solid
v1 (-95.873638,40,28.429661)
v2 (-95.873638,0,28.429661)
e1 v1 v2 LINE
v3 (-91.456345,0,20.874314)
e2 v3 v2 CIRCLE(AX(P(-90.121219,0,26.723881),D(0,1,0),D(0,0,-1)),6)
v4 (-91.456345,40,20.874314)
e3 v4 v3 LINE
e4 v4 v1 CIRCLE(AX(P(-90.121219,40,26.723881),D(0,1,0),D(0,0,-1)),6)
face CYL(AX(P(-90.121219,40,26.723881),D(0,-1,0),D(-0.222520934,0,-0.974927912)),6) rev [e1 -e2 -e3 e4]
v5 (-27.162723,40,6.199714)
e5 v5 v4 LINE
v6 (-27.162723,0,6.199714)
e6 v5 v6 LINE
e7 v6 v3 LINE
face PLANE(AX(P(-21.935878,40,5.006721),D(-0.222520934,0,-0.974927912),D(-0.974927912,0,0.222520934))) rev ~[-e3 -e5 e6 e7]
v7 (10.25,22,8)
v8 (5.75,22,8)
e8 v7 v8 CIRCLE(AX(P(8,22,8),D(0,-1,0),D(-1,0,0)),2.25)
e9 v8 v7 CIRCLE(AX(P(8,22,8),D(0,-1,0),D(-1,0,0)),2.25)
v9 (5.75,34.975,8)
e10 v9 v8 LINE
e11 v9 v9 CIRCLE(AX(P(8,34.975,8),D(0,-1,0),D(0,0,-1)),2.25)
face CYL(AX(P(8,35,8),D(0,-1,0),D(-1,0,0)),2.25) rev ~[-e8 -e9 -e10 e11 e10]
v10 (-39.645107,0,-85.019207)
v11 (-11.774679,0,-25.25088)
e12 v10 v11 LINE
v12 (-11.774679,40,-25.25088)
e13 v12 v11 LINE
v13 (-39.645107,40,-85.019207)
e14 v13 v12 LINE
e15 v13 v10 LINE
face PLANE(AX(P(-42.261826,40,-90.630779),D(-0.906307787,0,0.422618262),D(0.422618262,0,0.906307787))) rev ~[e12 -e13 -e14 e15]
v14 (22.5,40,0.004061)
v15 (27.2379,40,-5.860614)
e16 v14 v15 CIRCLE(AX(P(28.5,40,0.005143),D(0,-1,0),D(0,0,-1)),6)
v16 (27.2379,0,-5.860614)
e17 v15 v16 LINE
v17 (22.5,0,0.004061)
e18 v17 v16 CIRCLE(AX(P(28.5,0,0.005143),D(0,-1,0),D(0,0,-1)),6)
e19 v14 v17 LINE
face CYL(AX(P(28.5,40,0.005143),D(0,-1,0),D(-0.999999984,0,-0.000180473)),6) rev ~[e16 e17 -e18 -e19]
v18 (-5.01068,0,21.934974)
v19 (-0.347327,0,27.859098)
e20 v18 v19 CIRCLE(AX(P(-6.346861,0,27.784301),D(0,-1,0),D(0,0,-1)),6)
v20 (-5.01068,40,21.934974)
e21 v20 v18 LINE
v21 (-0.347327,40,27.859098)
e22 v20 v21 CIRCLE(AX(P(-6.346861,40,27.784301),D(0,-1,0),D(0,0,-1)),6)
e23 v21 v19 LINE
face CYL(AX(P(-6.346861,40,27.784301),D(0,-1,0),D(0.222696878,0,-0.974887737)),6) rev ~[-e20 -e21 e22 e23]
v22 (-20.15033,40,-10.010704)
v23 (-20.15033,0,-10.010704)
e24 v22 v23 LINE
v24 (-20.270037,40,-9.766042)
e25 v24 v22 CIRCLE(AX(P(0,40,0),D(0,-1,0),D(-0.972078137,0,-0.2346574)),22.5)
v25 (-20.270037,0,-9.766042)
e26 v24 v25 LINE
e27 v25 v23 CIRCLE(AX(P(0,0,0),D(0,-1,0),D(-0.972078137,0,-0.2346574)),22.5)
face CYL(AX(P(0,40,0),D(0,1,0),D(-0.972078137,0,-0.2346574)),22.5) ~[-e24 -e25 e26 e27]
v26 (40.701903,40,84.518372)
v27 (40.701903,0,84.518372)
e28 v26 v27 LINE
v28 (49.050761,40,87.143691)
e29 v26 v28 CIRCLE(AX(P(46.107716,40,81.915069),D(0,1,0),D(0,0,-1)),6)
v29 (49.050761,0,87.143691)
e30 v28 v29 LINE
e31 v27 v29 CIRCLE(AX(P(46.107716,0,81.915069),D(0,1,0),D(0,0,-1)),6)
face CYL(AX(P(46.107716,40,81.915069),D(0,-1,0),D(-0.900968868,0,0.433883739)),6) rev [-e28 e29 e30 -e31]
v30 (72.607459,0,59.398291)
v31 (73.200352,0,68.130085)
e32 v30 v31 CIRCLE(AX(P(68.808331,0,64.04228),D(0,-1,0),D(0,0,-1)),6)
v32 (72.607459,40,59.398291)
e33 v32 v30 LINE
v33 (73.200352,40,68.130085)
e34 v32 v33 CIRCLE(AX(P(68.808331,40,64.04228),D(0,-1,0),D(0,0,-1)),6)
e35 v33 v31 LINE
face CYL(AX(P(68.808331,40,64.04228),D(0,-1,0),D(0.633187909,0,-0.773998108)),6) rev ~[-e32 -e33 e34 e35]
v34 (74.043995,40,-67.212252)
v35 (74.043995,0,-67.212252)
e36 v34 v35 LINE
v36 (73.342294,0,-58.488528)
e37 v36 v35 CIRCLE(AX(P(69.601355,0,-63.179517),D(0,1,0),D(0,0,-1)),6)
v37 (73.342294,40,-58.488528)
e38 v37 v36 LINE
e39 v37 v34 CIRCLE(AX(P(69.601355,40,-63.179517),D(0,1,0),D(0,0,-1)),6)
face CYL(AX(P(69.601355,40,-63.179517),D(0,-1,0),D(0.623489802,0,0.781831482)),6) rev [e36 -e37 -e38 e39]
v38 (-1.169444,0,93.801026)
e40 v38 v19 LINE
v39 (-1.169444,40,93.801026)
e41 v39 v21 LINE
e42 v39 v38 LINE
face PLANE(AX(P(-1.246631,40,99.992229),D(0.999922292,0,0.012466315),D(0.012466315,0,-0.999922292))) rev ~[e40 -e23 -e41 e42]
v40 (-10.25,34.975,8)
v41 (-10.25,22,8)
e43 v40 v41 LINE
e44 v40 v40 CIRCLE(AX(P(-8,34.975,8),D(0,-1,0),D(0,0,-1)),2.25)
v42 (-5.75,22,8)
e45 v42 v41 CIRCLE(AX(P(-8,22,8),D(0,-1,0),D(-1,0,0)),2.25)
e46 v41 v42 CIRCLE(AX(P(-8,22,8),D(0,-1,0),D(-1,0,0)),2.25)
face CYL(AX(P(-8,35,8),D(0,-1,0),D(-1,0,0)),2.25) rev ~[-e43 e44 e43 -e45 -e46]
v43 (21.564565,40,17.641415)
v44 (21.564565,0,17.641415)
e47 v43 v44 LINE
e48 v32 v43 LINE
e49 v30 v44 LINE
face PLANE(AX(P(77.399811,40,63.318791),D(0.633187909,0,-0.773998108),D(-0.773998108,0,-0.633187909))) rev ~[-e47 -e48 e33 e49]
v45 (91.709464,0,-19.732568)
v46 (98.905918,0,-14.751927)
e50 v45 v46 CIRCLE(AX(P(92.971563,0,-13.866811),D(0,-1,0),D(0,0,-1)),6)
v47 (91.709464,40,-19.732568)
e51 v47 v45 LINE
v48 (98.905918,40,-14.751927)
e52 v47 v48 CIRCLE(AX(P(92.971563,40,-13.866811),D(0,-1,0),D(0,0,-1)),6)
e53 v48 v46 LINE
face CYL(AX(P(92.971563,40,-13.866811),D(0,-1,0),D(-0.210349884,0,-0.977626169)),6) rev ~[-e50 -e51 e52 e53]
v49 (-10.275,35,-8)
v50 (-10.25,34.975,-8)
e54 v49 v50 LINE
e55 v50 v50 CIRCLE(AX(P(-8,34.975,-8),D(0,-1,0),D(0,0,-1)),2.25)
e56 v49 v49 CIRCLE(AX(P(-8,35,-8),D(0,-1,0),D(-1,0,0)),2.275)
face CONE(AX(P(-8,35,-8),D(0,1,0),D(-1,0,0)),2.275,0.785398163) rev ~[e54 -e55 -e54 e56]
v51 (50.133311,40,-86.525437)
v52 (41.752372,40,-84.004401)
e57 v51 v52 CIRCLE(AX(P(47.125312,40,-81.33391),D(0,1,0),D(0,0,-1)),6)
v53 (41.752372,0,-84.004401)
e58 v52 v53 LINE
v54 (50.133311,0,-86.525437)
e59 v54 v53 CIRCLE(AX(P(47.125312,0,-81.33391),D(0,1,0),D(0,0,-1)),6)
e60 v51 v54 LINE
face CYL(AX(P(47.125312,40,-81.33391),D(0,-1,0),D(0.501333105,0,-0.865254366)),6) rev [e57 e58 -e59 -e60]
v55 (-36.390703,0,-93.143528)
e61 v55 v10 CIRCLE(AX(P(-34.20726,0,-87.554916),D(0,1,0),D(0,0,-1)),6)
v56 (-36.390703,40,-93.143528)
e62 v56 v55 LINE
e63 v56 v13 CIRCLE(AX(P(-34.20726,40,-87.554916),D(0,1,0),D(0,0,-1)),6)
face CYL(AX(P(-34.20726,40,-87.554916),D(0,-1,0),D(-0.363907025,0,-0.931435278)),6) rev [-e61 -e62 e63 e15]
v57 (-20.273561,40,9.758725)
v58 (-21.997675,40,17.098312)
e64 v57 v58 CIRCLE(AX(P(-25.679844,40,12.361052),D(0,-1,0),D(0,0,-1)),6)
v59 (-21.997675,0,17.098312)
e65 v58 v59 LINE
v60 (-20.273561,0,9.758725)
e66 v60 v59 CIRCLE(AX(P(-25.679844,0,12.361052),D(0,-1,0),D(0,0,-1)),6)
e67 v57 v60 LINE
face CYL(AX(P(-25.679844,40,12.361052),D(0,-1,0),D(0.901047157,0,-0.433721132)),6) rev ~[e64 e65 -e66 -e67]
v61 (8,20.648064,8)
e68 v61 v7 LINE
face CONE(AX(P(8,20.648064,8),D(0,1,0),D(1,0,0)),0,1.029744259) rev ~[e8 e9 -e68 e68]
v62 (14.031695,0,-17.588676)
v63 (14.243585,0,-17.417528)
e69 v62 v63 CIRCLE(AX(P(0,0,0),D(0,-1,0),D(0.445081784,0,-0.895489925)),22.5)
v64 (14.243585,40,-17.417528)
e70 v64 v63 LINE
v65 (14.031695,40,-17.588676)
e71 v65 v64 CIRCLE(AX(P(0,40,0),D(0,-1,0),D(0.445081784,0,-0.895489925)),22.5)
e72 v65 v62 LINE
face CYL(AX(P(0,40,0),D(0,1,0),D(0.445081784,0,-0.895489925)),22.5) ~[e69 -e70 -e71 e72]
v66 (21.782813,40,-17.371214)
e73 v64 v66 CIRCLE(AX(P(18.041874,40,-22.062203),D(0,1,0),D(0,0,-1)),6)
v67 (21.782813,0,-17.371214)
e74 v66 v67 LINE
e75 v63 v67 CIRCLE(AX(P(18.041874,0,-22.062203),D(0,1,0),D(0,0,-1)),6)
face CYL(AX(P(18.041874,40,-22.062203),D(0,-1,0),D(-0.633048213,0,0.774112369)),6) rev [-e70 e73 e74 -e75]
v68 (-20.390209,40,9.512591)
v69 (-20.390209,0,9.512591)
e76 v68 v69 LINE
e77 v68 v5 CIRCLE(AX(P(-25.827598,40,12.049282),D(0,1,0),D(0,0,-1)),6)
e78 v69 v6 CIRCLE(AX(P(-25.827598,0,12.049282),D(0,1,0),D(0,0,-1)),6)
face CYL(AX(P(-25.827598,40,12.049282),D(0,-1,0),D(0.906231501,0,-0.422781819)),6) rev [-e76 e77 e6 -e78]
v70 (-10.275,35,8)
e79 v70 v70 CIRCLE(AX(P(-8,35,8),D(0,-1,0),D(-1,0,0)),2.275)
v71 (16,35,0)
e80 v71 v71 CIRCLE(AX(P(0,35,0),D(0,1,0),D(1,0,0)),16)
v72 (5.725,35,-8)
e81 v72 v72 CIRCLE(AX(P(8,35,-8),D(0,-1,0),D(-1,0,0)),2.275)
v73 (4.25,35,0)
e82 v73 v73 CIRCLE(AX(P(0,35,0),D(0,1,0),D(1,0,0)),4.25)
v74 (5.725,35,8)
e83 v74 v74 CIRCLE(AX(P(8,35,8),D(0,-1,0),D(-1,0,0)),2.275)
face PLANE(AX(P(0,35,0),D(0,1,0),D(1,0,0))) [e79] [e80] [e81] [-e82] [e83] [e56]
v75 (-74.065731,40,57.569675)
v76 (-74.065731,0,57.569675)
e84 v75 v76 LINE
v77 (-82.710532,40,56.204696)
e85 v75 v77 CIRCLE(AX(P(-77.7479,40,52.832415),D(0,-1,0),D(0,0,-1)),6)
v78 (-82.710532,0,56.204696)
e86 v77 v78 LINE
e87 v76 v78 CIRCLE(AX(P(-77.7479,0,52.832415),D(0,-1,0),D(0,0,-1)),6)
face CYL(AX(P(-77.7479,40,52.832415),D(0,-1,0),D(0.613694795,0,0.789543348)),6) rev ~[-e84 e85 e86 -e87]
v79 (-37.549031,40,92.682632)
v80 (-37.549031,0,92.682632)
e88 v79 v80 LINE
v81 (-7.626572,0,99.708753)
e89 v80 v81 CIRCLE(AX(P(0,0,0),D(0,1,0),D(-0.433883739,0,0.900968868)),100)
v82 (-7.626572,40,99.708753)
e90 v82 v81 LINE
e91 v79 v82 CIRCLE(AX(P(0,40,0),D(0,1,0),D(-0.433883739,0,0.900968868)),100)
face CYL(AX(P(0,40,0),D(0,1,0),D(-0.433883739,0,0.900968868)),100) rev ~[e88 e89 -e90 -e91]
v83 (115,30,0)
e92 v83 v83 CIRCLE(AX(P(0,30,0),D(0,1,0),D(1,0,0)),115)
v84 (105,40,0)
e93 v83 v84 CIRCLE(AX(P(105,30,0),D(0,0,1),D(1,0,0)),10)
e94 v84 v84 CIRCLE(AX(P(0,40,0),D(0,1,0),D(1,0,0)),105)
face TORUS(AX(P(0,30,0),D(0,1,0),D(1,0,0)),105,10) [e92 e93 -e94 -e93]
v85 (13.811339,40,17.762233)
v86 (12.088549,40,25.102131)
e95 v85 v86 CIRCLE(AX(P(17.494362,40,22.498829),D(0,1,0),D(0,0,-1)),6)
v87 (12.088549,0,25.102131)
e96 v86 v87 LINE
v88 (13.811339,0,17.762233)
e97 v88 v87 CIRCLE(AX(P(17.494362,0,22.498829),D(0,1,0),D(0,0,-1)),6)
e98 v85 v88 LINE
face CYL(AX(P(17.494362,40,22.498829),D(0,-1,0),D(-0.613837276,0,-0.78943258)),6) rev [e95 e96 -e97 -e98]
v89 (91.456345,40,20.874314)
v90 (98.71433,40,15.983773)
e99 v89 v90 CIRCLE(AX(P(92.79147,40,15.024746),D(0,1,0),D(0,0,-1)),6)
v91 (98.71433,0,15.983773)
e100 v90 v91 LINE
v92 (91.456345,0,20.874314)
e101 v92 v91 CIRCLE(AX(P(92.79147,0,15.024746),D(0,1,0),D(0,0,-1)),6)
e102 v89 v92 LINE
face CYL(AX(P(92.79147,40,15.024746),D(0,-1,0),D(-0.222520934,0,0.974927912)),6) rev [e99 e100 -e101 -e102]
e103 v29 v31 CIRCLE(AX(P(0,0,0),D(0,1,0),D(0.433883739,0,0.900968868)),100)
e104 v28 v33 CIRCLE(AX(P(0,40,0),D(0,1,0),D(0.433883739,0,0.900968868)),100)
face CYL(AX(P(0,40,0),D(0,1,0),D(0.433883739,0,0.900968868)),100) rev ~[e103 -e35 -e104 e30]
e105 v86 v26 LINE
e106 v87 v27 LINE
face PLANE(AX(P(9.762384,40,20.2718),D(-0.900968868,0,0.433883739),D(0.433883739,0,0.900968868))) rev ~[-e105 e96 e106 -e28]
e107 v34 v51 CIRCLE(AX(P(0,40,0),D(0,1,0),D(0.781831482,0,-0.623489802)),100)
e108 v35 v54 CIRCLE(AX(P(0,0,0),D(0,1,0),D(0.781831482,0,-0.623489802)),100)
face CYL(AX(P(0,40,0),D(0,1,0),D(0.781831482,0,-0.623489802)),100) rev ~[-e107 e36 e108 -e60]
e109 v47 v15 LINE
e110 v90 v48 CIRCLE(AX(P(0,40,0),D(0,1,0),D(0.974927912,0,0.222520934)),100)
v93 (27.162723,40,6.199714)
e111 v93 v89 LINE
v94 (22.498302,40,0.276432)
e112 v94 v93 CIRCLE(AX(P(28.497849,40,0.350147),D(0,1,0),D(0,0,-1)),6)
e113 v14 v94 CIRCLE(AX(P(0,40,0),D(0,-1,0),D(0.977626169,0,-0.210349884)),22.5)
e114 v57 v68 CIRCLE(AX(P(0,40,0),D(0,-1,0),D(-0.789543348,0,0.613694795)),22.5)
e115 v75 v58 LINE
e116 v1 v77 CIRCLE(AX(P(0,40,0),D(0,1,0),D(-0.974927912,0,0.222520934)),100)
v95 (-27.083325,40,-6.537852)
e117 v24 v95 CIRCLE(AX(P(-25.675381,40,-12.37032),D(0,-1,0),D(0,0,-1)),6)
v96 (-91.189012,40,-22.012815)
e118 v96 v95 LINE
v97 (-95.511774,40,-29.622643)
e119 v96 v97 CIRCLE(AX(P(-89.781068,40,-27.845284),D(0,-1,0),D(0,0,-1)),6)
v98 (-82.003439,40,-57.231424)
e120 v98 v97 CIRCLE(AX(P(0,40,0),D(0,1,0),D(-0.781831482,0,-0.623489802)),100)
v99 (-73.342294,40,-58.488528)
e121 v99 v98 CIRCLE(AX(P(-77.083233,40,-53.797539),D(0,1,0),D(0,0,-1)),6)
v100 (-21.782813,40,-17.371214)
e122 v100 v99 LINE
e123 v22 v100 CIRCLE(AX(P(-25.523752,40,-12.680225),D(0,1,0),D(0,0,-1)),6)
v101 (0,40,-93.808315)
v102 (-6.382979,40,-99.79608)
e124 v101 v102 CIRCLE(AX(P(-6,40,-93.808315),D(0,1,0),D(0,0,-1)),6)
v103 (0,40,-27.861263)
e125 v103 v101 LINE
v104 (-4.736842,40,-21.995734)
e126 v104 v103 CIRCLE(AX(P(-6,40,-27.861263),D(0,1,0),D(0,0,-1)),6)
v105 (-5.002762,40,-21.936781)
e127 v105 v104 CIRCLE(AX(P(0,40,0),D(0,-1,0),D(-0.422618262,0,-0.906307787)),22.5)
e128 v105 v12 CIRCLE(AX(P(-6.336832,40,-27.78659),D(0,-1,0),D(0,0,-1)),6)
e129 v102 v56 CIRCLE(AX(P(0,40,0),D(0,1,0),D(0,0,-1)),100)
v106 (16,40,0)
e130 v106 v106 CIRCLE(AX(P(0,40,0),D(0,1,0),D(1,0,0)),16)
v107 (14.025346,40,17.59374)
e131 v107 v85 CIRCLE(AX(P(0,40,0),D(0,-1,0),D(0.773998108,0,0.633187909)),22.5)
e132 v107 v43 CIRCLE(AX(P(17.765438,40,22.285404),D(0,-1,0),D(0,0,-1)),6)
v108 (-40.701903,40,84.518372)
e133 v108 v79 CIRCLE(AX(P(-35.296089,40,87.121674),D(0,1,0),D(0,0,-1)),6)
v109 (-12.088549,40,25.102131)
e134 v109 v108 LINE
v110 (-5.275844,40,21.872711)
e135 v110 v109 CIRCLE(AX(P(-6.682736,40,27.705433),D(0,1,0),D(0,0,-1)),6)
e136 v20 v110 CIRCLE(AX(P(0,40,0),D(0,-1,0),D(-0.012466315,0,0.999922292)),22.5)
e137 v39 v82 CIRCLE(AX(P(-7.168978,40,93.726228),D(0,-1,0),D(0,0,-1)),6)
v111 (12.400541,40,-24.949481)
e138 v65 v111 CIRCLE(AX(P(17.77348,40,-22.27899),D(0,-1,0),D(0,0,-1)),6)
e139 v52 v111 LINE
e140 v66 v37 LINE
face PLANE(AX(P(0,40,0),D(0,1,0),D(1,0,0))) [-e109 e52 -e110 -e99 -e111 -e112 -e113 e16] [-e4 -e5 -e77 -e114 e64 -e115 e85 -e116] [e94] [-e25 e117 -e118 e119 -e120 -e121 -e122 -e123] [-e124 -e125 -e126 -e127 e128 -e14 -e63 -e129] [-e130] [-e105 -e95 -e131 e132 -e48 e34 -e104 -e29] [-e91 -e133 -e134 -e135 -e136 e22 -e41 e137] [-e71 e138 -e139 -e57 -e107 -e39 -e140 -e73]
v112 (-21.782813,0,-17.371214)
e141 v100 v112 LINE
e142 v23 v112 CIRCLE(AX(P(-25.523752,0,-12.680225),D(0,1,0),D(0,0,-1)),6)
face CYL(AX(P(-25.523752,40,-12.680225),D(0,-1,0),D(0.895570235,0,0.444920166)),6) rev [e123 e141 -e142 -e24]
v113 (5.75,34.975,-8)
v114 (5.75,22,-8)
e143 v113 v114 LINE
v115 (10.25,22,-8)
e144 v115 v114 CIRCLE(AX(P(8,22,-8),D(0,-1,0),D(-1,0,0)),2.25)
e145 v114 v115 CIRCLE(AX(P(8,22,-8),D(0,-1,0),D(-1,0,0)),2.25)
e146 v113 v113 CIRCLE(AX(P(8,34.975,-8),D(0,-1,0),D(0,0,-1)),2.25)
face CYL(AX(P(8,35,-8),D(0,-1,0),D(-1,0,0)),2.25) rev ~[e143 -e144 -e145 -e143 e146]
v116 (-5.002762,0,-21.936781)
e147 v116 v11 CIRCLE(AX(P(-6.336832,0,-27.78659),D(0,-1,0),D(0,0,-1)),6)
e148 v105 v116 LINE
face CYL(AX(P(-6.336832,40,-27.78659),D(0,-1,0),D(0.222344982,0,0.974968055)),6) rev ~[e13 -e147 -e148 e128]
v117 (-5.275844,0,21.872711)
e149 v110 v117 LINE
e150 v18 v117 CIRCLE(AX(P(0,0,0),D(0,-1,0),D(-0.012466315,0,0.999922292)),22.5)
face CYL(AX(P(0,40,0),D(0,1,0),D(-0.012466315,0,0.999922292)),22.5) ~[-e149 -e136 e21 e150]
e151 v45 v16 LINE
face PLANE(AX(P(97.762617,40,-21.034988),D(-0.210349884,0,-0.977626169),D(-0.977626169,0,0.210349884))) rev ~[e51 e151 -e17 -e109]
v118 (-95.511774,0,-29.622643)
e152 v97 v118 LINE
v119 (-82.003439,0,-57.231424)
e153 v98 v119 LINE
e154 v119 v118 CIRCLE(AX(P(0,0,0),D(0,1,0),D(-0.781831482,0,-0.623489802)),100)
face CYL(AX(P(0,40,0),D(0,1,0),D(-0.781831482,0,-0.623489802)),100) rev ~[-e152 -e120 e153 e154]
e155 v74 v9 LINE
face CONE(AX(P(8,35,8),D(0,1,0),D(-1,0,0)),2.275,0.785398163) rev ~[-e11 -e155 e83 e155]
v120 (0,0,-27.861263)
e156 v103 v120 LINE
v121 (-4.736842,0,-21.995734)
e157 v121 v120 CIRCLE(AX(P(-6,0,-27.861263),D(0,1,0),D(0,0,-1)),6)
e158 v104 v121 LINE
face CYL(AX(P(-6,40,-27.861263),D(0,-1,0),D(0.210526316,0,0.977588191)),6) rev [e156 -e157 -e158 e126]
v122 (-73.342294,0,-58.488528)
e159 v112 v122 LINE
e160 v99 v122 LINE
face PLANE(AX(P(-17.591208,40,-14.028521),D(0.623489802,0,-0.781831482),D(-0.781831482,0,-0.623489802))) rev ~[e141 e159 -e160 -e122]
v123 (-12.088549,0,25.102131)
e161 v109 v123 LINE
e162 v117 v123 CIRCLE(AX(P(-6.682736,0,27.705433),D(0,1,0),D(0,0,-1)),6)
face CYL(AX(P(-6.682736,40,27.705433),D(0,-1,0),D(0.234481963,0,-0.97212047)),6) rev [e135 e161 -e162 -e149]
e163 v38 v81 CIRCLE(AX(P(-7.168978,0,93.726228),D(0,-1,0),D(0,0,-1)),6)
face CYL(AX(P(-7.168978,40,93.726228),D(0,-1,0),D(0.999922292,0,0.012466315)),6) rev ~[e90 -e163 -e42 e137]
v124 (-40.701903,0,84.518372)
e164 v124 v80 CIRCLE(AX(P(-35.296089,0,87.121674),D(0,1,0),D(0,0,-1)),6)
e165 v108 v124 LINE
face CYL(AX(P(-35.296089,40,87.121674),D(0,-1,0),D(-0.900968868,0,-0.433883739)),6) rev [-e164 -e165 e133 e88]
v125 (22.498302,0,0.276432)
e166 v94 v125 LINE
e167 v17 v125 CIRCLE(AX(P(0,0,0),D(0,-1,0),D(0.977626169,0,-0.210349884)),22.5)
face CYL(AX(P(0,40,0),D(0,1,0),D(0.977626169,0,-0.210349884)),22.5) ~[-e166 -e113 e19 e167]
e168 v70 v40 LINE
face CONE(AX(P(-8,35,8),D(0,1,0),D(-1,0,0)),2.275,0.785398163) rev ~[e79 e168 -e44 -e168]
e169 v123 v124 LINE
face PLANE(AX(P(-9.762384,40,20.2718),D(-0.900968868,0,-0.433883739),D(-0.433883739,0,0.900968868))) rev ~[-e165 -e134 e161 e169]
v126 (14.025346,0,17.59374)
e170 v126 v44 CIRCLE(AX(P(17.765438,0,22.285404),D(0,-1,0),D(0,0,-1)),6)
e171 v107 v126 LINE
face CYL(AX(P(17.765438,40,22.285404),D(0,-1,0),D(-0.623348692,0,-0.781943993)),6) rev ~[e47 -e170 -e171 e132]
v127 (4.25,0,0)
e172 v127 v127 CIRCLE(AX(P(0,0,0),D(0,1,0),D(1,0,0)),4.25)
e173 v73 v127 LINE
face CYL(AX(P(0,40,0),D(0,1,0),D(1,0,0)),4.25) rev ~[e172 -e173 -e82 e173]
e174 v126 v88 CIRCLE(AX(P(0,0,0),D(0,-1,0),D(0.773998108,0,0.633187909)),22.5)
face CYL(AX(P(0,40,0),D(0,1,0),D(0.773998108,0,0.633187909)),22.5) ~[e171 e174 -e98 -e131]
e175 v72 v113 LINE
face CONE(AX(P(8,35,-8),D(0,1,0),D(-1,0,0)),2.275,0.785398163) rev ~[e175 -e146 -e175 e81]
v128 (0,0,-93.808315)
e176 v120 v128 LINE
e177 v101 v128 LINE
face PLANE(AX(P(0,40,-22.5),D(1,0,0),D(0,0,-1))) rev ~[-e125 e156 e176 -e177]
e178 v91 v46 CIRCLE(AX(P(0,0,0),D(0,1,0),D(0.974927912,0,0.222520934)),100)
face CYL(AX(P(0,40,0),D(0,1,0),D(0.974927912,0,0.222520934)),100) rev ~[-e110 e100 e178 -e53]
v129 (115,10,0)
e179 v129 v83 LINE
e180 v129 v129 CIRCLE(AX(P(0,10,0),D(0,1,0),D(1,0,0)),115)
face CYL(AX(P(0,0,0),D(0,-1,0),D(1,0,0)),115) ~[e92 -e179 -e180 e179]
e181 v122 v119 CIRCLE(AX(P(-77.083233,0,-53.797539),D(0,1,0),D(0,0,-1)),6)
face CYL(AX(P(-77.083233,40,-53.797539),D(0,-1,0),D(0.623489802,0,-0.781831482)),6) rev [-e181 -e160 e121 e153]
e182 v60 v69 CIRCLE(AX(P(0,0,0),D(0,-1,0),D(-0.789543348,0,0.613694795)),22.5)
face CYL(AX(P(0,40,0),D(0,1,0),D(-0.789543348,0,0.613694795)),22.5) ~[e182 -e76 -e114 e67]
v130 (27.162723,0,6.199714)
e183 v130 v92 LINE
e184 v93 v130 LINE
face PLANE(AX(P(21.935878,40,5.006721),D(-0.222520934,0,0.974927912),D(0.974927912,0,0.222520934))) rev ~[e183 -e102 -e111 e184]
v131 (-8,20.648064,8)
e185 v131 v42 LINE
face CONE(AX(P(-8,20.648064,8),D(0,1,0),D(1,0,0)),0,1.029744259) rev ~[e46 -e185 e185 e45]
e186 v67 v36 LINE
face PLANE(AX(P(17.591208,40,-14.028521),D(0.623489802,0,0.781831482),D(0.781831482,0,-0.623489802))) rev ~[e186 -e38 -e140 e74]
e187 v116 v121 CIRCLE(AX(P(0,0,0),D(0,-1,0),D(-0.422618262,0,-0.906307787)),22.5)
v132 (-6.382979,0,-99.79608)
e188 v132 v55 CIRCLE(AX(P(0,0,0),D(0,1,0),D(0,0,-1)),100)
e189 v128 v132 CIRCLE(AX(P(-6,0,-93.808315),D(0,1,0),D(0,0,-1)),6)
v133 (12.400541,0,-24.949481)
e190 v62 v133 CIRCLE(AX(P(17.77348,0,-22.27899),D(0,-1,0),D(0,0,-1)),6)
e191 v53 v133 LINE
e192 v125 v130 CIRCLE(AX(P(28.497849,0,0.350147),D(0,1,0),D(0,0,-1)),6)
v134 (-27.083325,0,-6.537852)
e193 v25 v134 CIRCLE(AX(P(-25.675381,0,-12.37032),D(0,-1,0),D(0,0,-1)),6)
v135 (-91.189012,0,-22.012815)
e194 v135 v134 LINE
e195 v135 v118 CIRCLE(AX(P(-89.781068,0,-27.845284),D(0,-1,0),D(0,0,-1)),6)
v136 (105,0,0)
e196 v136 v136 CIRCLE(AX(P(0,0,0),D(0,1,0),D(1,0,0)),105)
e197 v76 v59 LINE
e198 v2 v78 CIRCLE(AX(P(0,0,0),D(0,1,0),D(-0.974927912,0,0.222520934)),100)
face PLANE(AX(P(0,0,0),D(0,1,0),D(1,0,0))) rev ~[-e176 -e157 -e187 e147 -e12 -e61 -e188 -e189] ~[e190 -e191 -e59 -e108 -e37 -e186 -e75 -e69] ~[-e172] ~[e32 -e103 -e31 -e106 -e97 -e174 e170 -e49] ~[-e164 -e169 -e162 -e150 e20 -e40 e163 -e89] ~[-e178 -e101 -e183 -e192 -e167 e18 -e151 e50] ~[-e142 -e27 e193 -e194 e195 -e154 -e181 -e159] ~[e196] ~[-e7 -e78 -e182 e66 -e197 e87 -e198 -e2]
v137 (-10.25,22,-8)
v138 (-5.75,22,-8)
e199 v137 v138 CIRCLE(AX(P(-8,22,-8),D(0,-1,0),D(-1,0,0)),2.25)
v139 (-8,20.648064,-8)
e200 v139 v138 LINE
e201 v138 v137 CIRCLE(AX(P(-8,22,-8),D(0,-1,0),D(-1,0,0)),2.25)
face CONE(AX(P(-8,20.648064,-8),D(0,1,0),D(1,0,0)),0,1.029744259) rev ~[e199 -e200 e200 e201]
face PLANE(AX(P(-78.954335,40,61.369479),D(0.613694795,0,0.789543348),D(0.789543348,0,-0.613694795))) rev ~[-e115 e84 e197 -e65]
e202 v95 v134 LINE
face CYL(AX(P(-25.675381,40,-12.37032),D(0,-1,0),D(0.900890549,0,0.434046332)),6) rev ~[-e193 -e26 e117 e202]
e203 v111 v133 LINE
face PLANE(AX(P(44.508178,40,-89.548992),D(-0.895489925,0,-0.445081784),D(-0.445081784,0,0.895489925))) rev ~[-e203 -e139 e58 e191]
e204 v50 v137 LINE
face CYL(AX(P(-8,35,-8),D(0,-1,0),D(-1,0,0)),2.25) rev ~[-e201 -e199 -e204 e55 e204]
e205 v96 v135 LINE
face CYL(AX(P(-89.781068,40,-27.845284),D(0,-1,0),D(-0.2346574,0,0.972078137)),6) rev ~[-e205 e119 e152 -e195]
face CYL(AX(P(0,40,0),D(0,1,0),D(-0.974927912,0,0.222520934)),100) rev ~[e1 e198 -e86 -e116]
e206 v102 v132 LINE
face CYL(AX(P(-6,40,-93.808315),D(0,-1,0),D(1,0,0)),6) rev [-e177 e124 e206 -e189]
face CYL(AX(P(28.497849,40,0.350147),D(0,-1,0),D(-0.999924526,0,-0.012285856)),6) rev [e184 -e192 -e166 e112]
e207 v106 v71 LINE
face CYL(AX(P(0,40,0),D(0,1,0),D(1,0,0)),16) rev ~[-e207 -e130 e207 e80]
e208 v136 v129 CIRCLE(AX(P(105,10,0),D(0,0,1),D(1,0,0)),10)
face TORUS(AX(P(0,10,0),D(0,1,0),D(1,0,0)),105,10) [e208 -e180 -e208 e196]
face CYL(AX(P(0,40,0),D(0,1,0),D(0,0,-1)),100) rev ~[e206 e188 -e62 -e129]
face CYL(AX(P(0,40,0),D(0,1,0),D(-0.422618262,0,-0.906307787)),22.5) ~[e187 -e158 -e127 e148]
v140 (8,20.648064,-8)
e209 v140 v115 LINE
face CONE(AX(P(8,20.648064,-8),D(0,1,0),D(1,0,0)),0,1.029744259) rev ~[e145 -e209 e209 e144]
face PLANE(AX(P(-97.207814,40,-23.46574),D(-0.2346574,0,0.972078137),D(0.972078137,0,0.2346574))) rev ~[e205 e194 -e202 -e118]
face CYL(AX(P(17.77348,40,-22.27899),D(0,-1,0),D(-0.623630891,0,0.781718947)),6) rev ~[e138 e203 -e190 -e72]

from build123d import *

# Parameters (mm, degrees)
SKETCH1_R                      = 115
BOSS_EXTRUDE1_DEPTH            = 40
CUT_EXTRUDE1_DEPTH             = 40
FILLET1_R                      = 6
SKETCH3_R                      = 4.25
CUT_EXTRUDE2_DEPTH             = 40
CIRPATTERN1_COUNT              = 7
FILLET1_OF_CIRPATTERN1_R       = 6
SKETCH4_R                      = 16
CUT_EXTRUDE3_DEPTH             = 5
M4_CLEARANCE_HOLE1_D           = 4.5
M4_CLEARANCE_HOLE1_DEPTH       = 13
M4_CLEARANCE_HOLE1_CSINK_D     = 4.55
M4_CLEARANCE_HOLE1_CSINK_ANGLE = 90
M4_CLEARANCE_HOLE1_TIP         = 1.351936393
FILLET2_R                      = 10


with BuildPart() as part:
    # Sketch1 → Boss-Extrude1 (new body)
    with BuildSketch(Plane(origin=(0, 0, 0), x_dir=(1, 0, 0), z_dir=(0, 1, 0))):
        Circle(SKETCH1_R)
    extrude(amount=BOSS_EXTRUDE1_DEPTH)

    # Sketch2 → Cut-Extrude1 (cut)
    with BuildSketch(Plane(origin=(0, 40, 0), x_dir=(1, 0, 0), z_dir=(0, 1, 0))):
        with BuildLine():
            ThreePointArc((-9.508910889, 20.391925208), (-4.869891314, 21.96666016), (0, 22.5))
            Line((0, 22.5), (0, 100))
            ThreePointArc((0, 100), (-21.643961394, 97.629600712), (-42.261826174, 90.630778704))
            Line((-42.261826174, 90.630778704), (-9.508910889, 20.391925208))
        make_face()
    cut_extrude1 = extrude(amount=-CUT_EXTRUDE1_DEPTH, mode=Mode.SUBTRACT)

    # Fillet1
    fillet1_edges = [part.edges().sort_by_distance(p)[0] for p in [
        (0, 20, -22.5),
        (-9.508910889, 20, -20.391925208),
        (-42.261826174, 20, -90.630778704),
        (0, 20, -100),
    ]]
    fillet(fillet1_edges, radius=FILLET1_R)

    # Sketch3 → Cut-Extrude2 (cut)
    with BuildSketch(Plane(origin=(0, 40, 0), x_dir=(1, 0, 0), z_dir=(0, 1, 0))):
        Circle(SKETCH3_R)
    extrude(amount=-CUT_EXTRUDE2_DEPTH, mode=Mode.SUBTRACT)

    # CirPattern1: Cut-Extrude1 ×7 about axis
    cirpattern1_axis = Axis((0, 0, 0), (0, 1, 0))
    for i in range(1, CIRPATTERN1_COUNT):
        add(cut_extrude1.rotate(cirpattern1_axis, i * 360 / CIRPATTERN1_COUNT), mode=Mode.SUBTRACT)

    # Fillet1 of CirPattern1
    fillet1_of_cirpattern1_edges = [part.edges().sort_by_distance(p)[0] for p in [
        (-17.591208356, 20, -14.028520542),
        (-21.871758082, 20, -5.279791511),
        (-97.207813699, 20, -23.465740047),
        (-78.183148247, 20, -62.348980186),
        (-21.935878024, 20, 5.006721014),
        (-17.764725337, 20, 13.808132883),
        (-78.95433483, 20, 61.369479479),
        (-97.492791218, 20, 22.252093396),
        (-9.76238413, 20, 20.271799528),
        (-0.280492078, 20, 22.498251581),
        (-1.24663146, 20, 99.992229248),
        (-43.388373912, 20, 90.09688679),
        (9.76238413, 20, 20.271799528),
        (17.414957436, 20, 14.246727958),
        (77.399810827, 20, 63.318790923),
        (43.388373912, 20, 90.09688679),
        (21.935878024, 20, 5.006721014),
        (21.996588801, 20, -4.732872398),
        (97.762616892, 20, -21.034988435),
        (97.492791218, 20, 22.252093396),
        (17.591208356, 20, -14.028520542),
        (10.01434015, 20, -20.148523305),
        (44.508178444, 20, -89.548992466),
        (78.183148247, 20, -62.348980186),
    ]]
    fillet(fillet1_of_cirpattern1_edges, radius=FILLET1_OF_CIRPATTERN1_R)

    # Sketch4 → Cut-Extrude3 (cut)
    with BuildSketch(Plane(origin=(0, 40, 0), x_dir=(1, 0, 0), z_dir=(0, 1, 0))):
        Circle(SKETCH4_R)
    extrude(amount=-CUT_EXTRUDE3_DEPTH, mode=Mode.SUBTRACT)

    # M4 Clearance Hole1
    with Locations(Plane(origin=(0, 35, 0), x_dir=(1, 0, 0), z_dir=(0, 1, 0))):
        with Locations((8, 8), (-8, 8), (-8, -8), (8, -8)):
            CounterSinkHole(M4_CLEARANCE_HOLE1_D / 2, M4_CLEARANCE_HOLE1_CSINK_D / 2, depth=M4_CLEARANCE_HOLE1_DEPTH, counter_sink_angle=M4_CLEARANCE_HOLE1_CSINK_ANGLE)
            with Locations((0, 0, -(M4_CLEARANCE_HOLE1_DEPTH + M4_CLEARANCE_HOLE1_TIP / 2))):  # 118° drill point
                Cone(0, M4_CLEARANCE_HOLE1_D / 2, M4_CLEARANCE_HOLE1_TIP, mode=Mode.SUBTRACT)

    # Fillet2
    fillet2_edges = [part.edges().sort_by_distance(p)[0] for p in [
        (-115, 0, 0),
        (-115, 40, 0),
    ]]
    fillet(fillet2_edges, radius=FILLET2_R)


solid = part.part
